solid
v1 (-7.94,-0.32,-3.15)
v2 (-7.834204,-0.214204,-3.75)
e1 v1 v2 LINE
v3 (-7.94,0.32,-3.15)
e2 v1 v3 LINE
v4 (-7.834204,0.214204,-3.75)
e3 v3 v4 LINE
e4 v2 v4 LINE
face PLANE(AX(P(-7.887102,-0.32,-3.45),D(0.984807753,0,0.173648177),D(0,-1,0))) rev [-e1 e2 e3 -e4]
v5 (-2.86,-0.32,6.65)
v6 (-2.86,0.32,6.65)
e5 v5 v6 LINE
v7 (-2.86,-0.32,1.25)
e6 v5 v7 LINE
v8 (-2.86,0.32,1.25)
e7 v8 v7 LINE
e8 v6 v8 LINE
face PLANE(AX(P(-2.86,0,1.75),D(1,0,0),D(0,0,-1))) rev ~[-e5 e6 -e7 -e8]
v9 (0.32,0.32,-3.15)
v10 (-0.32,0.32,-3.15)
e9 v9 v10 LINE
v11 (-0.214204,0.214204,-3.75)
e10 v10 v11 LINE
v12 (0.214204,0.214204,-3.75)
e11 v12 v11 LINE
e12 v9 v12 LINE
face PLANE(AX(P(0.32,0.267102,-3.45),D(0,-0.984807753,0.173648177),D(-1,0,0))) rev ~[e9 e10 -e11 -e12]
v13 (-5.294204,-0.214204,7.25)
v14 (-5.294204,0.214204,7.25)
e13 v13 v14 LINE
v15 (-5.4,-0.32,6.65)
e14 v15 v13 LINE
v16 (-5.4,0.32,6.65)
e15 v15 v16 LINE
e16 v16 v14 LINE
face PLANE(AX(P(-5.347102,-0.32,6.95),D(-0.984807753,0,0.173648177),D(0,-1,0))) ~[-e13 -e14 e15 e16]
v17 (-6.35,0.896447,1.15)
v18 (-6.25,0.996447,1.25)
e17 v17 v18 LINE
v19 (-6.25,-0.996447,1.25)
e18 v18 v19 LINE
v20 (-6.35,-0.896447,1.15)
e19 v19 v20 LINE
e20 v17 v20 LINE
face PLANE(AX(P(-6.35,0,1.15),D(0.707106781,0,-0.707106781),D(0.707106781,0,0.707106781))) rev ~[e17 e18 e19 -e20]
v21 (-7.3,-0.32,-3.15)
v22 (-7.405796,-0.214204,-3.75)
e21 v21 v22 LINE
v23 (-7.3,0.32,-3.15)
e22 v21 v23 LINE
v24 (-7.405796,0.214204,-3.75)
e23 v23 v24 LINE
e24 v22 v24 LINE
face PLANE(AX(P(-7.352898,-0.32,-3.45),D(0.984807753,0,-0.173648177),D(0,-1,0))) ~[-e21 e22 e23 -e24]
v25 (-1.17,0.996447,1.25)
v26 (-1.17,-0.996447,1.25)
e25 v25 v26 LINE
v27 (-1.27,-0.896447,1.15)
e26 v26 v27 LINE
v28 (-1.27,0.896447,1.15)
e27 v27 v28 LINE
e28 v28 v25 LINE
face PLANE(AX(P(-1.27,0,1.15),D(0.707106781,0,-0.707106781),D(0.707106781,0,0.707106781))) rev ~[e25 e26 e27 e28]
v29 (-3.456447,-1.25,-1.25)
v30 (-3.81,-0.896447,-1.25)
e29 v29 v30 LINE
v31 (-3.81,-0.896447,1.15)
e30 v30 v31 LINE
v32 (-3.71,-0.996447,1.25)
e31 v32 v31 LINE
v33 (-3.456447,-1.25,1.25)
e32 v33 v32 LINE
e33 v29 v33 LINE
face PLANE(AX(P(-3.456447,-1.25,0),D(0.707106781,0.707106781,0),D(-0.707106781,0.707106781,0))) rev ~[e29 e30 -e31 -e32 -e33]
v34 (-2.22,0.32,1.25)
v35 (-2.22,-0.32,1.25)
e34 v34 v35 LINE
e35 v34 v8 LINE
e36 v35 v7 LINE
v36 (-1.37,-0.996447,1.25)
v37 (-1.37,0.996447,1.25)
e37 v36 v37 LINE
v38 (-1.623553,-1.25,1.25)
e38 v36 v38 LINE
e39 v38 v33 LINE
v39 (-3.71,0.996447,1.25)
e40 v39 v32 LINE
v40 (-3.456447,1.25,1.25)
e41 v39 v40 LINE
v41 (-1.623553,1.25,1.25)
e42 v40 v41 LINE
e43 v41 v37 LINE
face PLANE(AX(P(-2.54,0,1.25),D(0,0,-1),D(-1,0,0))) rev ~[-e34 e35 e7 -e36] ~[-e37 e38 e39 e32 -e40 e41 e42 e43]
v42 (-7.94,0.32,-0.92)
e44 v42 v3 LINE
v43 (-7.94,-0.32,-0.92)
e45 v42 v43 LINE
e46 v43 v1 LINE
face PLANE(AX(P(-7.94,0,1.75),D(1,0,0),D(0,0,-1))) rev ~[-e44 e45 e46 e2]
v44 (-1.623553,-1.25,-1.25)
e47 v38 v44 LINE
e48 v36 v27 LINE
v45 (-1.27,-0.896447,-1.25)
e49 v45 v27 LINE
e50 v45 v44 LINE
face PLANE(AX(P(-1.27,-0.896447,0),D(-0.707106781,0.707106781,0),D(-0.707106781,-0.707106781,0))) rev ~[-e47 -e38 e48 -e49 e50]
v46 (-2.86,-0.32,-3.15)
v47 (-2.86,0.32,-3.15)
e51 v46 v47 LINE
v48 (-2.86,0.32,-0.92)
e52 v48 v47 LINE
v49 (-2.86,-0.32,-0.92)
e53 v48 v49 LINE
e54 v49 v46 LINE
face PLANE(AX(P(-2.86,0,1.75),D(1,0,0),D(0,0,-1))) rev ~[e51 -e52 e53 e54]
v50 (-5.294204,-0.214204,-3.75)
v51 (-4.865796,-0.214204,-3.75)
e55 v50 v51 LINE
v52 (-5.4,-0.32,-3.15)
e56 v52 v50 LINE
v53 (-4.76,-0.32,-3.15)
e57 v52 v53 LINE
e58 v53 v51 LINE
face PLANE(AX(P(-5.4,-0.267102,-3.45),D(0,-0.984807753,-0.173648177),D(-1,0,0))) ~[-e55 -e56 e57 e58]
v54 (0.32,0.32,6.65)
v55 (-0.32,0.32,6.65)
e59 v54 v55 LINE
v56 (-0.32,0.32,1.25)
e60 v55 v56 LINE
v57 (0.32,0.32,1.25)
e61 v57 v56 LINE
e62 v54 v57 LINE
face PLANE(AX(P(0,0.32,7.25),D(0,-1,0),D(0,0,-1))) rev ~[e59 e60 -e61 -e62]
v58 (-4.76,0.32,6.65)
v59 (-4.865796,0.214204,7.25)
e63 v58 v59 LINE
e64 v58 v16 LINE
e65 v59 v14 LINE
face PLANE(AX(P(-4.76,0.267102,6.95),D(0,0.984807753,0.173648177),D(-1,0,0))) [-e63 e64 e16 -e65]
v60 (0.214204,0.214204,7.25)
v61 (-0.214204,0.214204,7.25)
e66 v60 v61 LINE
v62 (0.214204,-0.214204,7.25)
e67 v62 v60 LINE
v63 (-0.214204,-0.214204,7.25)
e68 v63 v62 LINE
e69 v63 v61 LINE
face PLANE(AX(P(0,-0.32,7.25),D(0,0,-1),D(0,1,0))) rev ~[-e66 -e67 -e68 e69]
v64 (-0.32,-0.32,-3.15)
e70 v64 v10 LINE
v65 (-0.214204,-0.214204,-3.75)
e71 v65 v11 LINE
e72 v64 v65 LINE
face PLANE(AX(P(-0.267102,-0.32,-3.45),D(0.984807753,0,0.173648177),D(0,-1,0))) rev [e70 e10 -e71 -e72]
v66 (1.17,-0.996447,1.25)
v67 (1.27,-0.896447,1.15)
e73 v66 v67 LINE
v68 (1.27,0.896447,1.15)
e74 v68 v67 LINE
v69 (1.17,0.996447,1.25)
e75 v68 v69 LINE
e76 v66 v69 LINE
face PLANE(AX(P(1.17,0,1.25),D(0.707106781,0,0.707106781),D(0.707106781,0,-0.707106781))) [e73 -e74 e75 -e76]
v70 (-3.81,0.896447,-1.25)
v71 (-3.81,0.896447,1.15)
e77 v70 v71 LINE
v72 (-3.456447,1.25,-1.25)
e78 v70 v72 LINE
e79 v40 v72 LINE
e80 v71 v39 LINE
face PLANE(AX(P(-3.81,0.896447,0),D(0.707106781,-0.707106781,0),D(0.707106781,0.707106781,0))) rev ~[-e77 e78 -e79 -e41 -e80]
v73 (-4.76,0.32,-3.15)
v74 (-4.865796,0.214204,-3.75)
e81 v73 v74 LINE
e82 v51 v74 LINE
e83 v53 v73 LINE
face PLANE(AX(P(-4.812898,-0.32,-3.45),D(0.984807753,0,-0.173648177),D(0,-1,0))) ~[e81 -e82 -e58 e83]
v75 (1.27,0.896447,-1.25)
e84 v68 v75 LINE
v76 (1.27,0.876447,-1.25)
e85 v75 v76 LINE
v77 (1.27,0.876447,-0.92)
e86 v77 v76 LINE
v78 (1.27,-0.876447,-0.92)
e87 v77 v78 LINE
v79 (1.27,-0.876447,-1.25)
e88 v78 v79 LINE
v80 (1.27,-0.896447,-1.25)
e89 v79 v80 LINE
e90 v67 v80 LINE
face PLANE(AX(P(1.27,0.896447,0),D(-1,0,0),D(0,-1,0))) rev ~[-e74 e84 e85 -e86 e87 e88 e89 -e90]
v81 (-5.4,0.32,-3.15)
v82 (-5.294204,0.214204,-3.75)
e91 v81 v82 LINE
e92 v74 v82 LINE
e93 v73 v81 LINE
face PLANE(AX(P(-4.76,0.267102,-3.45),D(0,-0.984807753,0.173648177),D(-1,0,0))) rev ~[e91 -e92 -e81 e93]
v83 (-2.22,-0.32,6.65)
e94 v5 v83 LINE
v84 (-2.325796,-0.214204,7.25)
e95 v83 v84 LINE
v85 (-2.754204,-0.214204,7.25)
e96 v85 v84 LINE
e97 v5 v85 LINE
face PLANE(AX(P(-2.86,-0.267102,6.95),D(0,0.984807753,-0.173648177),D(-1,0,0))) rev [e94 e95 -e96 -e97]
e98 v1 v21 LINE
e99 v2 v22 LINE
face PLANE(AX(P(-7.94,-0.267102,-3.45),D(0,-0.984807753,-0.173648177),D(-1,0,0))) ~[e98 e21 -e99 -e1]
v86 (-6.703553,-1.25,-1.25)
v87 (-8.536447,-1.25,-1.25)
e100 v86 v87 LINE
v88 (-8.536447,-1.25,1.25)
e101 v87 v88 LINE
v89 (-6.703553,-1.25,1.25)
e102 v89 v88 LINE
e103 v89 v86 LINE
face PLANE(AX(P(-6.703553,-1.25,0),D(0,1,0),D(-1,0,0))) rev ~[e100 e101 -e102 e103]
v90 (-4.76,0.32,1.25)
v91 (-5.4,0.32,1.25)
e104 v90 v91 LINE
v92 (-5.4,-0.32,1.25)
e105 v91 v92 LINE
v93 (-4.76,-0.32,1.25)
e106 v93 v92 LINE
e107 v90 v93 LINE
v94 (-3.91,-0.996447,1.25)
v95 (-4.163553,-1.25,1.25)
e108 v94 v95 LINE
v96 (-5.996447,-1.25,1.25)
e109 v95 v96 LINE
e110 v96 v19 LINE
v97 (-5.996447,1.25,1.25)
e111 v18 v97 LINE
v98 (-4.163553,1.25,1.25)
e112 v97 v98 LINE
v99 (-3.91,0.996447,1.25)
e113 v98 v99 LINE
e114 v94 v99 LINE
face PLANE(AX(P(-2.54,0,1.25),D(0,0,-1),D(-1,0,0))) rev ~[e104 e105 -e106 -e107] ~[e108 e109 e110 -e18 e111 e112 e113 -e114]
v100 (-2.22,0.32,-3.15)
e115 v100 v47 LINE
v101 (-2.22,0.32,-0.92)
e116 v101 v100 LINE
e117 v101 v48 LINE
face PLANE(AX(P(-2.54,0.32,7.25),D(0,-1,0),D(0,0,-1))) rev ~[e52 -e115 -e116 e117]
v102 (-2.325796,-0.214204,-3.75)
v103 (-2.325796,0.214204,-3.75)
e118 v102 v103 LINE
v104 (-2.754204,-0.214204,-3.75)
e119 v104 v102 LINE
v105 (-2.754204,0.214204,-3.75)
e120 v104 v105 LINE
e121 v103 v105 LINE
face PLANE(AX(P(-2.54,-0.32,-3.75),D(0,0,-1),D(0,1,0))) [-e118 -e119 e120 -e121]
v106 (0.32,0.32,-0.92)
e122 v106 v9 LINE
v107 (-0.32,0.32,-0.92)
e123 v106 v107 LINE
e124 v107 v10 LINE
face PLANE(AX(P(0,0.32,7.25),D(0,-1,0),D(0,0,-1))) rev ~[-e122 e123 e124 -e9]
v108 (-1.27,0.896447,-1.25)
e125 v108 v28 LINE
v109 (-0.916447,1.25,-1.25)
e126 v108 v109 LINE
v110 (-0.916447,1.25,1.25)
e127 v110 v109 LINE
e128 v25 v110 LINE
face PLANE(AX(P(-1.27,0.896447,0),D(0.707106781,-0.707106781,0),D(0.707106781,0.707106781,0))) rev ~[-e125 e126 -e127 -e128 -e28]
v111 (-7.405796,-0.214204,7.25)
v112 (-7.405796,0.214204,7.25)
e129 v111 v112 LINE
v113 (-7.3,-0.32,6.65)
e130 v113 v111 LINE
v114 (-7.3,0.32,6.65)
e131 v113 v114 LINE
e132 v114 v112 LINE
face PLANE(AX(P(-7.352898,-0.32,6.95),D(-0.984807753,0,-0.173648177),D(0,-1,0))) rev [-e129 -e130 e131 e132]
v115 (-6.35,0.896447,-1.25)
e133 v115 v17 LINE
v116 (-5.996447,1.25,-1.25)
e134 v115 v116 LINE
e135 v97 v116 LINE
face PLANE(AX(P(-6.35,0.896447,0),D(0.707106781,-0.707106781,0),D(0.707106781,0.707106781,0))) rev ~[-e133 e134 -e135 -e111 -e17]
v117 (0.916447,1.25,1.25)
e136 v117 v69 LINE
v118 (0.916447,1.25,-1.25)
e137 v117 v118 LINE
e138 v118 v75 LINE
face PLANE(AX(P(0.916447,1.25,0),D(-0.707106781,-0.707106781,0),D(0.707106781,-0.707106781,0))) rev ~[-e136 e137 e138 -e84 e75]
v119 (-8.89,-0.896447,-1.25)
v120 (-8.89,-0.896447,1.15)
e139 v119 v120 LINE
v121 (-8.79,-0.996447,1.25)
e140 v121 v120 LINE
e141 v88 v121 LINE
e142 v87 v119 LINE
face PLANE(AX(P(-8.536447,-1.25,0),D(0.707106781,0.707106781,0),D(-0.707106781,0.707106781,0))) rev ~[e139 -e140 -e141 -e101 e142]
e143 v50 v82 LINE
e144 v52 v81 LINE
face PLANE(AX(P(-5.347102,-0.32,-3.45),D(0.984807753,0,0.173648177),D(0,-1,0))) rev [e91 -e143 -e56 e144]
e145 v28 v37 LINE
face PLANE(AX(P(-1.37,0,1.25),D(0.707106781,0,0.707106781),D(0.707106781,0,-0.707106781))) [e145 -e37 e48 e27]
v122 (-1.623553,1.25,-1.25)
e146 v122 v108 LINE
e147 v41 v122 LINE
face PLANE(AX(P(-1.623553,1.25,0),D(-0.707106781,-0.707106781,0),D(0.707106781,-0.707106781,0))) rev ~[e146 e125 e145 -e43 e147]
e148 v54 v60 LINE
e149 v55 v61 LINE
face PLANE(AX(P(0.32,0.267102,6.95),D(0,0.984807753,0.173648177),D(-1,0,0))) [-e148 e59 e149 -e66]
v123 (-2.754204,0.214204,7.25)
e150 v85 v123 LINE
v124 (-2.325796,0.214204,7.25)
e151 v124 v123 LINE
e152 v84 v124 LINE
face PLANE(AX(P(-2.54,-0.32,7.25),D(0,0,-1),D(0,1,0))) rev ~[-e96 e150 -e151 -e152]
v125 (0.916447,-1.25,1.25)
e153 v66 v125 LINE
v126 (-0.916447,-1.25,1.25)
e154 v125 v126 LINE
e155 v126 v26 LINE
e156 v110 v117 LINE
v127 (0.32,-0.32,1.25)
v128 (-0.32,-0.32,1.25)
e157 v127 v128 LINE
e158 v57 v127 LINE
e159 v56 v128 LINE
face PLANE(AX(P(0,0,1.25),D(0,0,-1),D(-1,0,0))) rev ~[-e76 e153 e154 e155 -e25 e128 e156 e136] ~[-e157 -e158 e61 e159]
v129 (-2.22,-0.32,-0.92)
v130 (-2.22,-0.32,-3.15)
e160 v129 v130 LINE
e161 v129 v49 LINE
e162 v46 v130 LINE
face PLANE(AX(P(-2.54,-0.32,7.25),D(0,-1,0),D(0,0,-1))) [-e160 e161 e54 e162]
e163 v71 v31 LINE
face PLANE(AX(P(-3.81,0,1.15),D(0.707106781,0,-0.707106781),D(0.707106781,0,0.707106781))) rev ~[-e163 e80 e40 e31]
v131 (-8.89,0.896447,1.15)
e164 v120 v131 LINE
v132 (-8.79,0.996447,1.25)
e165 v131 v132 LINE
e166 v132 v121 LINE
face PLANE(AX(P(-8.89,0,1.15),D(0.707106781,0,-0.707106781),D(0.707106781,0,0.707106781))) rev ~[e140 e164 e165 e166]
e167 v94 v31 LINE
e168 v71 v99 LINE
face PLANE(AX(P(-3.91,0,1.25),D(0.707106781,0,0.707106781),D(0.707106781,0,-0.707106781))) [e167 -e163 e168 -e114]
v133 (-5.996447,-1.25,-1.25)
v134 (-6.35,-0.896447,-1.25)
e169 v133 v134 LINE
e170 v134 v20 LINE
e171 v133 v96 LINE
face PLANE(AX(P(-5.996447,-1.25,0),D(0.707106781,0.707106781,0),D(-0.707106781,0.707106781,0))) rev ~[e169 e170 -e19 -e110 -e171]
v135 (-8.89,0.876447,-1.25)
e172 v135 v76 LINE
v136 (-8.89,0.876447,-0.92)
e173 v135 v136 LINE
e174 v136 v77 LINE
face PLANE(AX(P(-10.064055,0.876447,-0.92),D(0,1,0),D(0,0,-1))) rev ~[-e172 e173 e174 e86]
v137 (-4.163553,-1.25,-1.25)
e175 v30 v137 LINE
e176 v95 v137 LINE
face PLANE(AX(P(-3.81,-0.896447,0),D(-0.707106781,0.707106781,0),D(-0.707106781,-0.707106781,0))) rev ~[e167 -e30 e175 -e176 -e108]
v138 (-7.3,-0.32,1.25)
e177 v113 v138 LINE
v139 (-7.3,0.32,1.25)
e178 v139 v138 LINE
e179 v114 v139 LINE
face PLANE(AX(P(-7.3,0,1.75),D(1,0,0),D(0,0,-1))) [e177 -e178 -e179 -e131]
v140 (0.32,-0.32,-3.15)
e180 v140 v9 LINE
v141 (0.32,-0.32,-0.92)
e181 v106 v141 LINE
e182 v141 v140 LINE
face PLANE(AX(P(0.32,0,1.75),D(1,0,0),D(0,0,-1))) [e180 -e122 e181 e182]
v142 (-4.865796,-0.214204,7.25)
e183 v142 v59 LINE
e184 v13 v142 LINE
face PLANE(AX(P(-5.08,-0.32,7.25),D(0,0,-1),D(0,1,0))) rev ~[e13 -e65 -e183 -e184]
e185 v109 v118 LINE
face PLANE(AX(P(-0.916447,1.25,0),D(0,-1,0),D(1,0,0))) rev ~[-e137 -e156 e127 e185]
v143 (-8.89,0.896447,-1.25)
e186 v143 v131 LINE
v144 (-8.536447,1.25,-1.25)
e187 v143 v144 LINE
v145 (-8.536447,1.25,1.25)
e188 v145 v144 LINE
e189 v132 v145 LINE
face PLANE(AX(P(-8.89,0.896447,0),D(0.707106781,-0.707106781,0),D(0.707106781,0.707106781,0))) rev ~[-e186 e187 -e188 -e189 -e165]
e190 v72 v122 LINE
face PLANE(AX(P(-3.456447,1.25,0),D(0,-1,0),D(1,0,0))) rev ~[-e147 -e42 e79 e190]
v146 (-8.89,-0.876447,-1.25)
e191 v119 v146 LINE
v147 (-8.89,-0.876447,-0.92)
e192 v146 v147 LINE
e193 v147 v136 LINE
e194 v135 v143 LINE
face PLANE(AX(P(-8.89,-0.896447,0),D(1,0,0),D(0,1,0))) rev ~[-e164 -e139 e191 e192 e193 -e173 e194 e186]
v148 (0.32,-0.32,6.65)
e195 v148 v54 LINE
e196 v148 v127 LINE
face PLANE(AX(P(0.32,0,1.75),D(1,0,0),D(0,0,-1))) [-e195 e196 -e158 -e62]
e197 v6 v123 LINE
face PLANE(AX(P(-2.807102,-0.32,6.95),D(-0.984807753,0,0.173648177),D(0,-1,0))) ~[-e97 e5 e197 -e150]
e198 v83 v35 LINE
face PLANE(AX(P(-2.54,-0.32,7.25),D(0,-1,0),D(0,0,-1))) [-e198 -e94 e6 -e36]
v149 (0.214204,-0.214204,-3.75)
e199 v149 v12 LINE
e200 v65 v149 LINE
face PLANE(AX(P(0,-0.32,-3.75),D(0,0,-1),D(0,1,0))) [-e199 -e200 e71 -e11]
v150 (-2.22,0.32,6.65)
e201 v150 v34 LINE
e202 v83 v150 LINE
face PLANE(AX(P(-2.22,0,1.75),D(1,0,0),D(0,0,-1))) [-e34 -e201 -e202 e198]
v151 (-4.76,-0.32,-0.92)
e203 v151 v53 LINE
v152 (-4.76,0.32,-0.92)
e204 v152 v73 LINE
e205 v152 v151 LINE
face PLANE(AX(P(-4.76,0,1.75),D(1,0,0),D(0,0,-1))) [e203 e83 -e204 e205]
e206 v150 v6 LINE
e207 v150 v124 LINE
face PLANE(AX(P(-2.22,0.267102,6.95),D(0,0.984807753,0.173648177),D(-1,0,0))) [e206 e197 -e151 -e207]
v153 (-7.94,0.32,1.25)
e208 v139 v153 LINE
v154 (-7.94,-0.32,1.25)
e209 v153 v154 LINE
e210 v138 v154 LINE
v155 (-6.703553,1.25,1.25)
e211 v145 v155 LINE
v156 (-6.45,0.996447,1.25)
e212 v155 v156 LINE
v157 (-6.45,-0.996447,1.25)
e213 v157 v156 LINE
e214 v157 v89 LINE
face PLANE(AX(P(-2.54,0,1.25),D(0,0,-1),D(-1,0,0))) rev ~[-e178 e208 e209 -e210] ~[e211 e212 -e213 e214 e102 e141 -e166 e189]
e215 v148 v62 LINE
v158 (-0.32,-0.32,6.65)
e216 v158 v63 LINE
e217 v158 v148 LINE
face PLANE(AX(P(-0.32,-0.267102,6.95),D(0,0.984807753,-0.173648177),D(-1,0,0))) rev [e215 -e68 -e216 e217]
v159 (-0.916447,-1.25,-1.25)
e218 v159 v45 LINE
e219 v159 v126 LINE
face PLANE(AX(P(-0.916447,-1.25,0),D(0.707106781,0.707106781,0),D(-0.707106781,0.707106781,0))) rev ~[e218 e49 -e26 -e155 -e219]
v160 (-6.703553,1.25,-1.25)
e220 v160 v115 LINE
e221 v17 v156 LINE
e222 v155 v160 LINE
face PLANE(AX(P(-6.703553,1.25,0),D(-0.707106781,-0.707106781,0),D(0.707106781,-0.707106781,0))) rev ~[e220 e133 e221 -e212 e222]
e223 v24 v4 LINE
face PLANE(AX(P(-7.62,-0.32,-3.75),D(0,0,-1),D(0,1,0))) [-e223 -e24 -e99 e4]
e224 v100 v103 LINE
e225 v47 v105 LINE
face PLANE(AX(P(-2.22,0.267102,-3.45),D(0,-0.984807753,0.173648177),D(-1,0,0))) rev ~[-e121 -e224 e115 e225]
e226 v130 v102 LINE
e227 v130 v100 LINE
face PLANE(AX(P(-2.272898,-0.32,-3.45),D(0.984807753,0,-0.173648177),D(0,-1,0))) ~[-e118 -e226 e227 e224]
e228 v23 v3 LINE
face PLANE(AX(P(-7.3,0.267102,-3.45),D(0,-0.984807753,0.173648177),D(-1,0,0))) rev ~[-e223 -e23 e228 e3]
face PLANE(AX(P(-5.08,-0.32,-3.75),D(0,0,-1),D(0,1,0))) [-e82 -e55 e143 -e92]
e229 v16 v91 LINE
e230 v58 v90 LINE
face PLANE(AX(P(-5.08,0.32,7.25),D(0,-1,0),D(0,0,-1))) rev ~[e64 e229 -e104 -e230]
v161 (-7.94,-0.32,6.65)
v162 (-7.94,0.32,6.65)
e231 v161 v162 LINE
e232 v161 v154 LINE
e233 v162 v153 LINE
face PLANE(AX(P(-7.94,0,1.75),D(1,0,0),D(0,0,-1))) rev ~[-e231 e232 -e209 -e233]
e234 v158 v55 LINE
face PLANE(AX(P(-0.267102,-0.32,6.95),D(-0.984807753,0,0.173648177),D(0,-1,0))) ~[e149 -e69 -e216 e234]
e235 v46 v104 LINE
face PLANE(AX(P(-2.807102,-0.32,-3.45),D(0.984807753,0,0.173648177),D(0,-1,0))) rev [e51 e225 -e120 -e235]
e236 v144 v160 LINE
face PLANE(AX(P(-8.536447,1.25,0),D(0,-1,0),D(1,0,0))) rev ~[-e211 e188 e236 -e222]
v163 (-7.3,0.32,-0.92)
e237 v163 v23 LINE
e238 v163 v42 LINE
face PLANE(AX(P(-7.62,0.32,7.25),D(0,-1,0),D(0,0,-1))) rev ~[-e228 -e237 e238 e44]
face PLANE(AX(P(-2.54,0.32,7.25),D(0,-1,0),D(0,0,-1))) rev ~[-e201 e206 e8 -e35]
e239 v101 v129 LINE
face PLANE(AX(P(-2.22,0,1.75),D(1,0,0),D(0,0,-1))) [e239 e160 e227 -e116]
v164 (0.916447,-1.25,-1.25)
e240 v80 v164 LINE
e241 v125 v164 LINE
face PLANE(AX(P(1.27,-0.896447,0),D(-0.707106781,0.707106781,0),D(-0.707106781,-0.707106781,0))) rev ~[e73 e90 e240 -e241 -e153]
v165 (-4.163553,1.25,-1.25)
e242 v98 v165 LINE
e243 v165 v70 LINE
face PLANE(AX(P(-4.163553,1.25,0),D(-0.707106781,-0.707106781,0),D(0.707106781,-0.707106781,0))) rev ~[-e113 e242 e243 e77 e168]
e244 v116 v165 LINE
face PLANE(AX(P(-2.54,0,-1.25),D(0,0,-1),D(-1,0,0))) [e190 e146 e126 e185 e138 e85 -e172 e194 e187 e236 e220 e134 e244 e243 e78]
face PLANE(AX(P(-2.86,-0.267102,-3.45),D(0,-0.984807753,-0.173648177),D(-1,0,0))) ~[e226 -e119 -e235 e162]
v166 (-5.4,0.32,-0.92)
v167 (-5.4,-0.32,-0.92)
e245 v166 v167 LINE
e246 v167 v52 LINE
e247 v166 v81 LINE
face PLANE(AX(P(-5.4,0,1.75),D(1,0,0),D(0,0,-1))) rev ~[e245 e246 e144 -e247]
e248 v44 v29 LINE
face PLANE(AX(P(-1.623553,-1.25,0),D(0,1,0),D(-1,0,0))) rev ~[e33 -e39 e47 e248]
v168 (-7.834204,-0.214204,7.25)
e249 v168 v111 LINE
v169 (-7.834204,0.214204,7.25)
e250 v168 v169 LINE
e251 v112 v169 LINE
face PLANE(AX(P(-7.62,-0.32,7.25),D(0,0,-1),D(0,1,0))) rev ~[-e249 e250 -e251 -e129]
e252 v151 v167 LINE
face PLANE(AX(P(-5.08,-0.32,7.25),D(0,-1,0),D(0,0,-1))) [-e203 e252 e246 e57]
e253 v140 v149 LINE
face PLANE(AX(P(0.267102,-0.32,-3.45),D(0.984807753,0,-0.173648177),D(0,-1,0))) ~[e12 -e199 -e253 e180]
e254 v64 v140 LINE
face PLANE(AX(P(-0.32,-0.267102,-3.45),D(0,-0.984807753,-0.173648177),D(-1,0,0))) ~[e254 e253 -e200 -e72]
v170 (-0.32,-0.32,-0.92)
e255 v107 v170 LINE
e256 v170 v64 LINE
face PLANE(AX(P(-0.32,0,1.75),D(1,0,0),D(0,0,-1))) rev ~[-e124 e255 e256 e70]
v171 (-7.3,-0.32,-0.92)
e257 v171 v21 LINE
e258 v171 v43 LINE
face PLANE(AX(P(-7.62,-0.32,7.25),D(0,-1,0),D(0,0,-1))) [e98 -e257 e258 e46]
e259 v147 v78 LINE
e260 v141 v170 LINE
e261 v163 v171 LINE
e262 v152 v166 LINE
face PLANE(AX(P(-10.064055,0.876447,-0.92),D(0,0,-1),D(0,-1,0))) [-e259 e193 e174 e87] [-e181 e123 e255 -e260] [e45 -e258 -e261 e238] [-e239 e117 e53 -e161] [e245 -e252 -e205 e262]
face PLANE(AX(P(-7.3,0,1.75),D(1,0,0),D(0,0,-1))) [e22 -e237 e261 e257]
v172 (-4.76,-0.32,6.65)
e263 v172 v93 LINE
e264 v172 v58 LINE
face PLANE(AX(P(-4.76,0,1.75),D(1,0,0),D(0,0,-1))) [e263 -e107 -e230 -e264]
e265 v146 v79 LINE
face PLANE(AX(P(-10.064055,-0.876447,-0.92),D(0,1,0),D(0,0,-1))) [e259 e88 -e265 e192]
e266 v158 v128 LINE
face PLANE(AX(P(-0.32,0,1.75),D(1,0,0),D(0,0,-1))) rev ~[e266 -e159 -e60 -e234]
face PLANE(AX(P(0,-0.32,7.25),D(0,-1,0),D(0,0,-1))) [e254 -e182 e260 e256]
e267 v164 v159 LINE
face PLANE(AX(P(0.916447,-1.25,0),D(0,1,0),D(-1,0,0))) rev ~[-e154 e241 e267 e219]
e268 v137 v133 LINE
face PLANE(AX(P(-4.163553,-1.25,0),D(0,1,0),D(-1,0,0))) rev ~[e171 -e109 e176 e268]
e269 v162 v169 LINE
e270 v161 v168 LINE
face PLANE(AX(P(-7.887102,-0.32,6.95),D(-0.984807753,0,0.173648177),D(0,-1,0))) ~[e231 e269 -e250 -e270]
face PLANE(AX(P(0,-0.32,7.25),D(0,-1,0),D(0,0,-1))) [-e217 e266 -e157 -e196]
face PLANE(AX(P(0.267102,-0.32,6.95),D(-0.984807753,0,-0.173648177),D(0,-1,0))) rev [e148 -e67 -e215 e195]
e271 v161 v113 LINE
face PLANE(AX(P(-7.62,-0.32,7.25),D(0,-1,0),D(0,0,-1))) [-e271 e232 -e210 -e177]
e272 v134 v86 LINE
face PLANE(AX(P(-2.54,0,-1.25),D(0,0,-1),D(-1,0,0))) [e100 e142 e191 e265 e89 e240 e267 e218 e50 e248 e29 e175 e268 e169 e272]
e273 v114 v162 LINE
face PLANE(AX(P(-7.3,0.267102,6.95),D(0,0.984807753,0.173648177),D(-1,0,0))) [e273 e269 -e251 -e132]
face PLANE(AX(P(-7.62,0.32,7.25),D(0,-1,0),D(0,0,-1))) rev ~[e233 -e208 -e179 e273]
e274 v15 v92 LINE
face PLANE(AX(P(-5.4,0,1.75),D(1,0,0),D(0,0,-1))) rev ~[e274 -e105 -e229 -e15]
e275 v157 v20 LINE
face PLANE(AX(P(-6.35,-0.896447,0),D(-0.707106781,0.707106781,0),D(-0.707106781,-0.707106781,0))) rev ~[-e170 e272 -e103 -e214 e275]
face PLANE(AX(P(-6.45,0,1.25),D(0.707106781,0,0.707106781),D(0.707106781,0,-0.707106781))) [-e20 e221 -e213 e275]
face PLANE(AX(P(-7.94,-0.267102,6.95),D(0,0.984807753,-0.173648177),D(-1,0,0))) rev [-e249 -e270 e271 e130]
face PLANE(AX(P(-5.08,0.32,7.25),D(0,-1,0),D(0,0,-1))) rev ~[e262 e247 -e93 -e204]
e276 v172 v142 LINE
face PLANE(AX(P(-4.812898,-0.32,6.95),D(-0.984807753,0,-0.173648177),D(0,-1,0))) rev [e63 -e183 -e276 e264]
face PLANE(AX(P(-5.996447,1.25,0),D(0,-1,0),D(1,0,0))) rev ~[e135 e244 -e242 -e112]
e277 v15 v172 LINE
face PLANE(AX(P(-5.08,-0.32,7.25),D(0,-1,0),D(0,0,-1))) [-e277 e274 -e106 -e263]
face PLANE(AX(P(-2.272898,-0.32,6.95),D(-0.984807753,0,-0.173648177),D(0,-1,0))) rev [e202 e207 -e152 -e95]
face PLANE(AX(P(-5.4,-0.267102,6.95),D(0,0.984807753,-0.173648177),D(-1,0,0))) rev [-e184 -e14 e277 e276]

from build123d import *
from OCP.BRepFilletAPI import BRepFilletAPI_MakeChamfer

# Parameters (mm, degrees)
EXTRUDE1_DEPTH          = 1.25
CUT_EXTRUDE3_DEPTH      = 3.176671771
LPATTERN4_COUNT         = 4
LPATTERN4_PITCH         = 2.54
CUT_EXTRUDE1_DEPTH      = 10.064055384
CUT_EXTRUDE1_DEPTH_BACK = 10.064055384
SKETCH2_W               = 1.752893218
SKETCH2_H               = 0.33
SKETCH3_W               = 11
SKETCH3_H               = 0.64
EXTRUDE_THIN1_DEPTH     = 0.32
LPATTERN5_COUNT         = 5
LPATTERN5_PITCH         = 2.54
CHAMFER2_SIZE           = 0.6
CHAMFER2_SIZE2          = 0.105796188


with BuildPart() as part:
    # Sketch1 → Extrude1 (new, symmetric)
    with BuildSketch(Plane.XY):
        Polygon((-1.27, 0.896446609), (-0.916446609, 1.25), (0.916446609, 1.25), (1.27, 0.896446609), (1.27, -0.896446609), (0.916446609, -1.25), (-0.916446609, -1.25), (-1.27, -0.896446609), align=None)
    extrude1 = extrude(amount=EXTRUDE1_DEPTH, both=True)

    # Sketch4 → Cut-Extrude3 (cut, symmetric)
    with BuildSketch(Plane(origin=(0, 0, 0), x_dir=(1, 0, 0), z_dir=(0, 1, 0))):
        Polygon((-1.27, -1.15), (-1.17, -1.25), (-1.27, -1.25), align=None)
        Polygon((1.17, -1.25), (1.27, -1.15), (1.27, -1.25), align=None)
    cut_extrude3 = extrude(amount=CUT_EXTRUDE3_DEPTH, both=True, mode=Mode.SUBTRACT)

    # LPattern4: Extrude1, Cut-Extrude3 ×4
    with Locations(*[(-i * LPATTERN4_PITCH, 0, 0) for i in range(1, LPATTERN4_COUNT)]):
        add(extrude1)
        add(cut_extrude3, mode=Mode.SUBTRACT)

    # Sketch2 → Cut-Extrude1 (cut, two sides: drawn at the far end of the back side and taken through both)
    with BuildSketch(Plane(origin=(0, 0, 0), x_dir=(0, -1, 0), z_dir=(1, 0, 0)).offset(-CUT_EXTRUDE1_DEPTH_BACK)):
        with Locations((0, 1.085)):
            Rectangle(SKETCH2_W, SKETCH2_H)
    extrude(amount=CUT_EXTRUDE1_DEPTH + CUT_EXTRUDE1_DEPTH_BACK, mode=Mode.SUBTRACT)

    # Sketch3 → Extrude-Thin1 (add, symmetric)
    with BuildSketch(Plane(origin=(0, 0, 0), x_dir=(0, 0, -1), z_dir=(1, 0, 0))):
        with Locations((-1.75, 0)):
            Rectangle(SKETCH3_W, SKETCH3_H)
    extrude_thin1 = extrude(amount=EXTRUDE_THIN1_DEPTH, both=True)

    # LPattern5: Extrude-Thin1 ×5, 1 skipped
    with Locations(*[(-i * LPATTERN5_PITCH, 0, 0) for i in range(1, LPATTERN5_COUNT) if i not in (4,)]):
        add(extrude_thin1)

    # Chamfer2: one chamfer whose edges measure the first distance from different faces: ONE call of the kernel's chamfer builder (chamfer() names one face for all edges)
    chamfer2_edges_1 = [part.edges().sort_by_distance(p)[0] for p in [
        (0, -0.32, 7.25),
    ]]
    chamfer2_side_1 = [part.faces().sort_by_distance(p)[0] for p in [
        (0, -0.32, 4.25),
    ]]
    chamfer2_edges_2 = [part.edges().sort_by_distance(p)[0] for p in [
        (0, 0.32, -3.75),
    ]]
    chamfer2_side_2 = [part.faces().sort_by_distance(p)[0] for p in [
        (0, 0.32, -2.335),
    ]]
    chamfer2_edges_3 = [part.edges().sort_by_distance(p)[0] for p in [
        (-0.32, 0, 7.25),
    ]]
    chamfer2_side_3 = [part.faces().sort_by_distance(p)[0] for p in [
        (-0.32, 0, 4.25),
    ]]
    chamfer2_edges_4 = [part.edges().sort_by_distance(p)[0] for p in [
        (-0.32, 0, -3.75),
    ]]
    chamfer2_side_4 = [part.faces().sort_by_distance(p)[0] for p in [
        (-0.32, 0, -2.335),
    ]]
    chamfer2_edges_5 = [part.edges().sort_by_distance(p)[0] for p in [
        (0, -0.32, -3.75),
    ]]
    chamfer2_side_5 = [part.faces().sort_by_distance(p)[0] for p in [
        (0, -0.32, -2.335),
    ]]
    chamfer2_edges_6 = [part.edges().sort_by_distance(p)[0] for p in [
        (0.32, 0, -3.75),
    ]]
    chamfer2_side_6 = [part.faces().sort_by_distance(p)[0] for p in [
        (0.32, 0, -2.335),
    ]]
    chamfer2_edges_7 = [part.edges().sort_by_distance(p)[0] for p in [
        (0, 0.32, 7.25),
    ]]
    chamfer2_side_7 = [part.faces().sort_by_distance(p)[0] for p in [
        (0, 0.32, 4.25),
    ]]
    chamfer2_edges_8 = [part.edges().sort_by_distance(p)[0] for p in [
        (0.32, 0, 7.25),
    ]]
    chamfer2_side_8 = [part.faces().sort_by_distance(p)[0] for p in [
        (0.32, 0, 4.25),
    ]]
    chamfer2_edges_9 = [part.edges().sort_by_distance(p)[0] for p in [
        (-2.54, -0.32, 7.25),
    ]]
    chamfer2_side_9 = [part.faces().sort_by_distance(p)[0] for p in [
        (-2.54, -0.32, 4.25),
    ]]
    chamfer2_edges_10 = [part.edges().sort_by_distance(p)[0] for p in [
        (-2.54, 0.32, -3.75),
    ]]
    chamfer2_side_10 = [part.faces().sort_by_distance(p)[0] for p in [
        (-2.54, 0.32, -2.335),
    ]]
    chamfer2_edges_11 = [part.edges().sort_by_distance(p)[0] for p in [
        (-2.86, 0, -3.75),
    ]]
    chamfer2_side_11 = [part.faces().sort_by_distance(p)[0] for p in [
        (-2.86, 0, -2.335),
    ]]
    chamfer2_edges_12 = [part.edges().sort_by_distance(p)[0] for p in [
        (-2.86, 0, 7.25),
    ]]
    chamfer2_side_12 = [part.faces().sort_by_distance(p)[0] for p in [
        (-2.86, 0, 4.25),
    ]]
    chamfer2_edges_13 = [part.edges().sort_by_distance(p)[0] for p in [
        (-2.54, -0.32, -3.75),
    ]]
    chamfer2_side_13 = [part.faces().sort_by_distance(p)[0] for p in [
        (-2.54, -0.32, -2.335),
    ]]
    chamfer2_edges_14 = [part.edges().sort_by_distance(p)[0] for p in [
        (-2.22, 0, -3.75),
    ]]
    chamfer2_side_14 = [part.faces().sort_by_distance(p)[0] for p in [
        (-2.22, 0, -2.335),
    ]]
    chamfer2_edges_15 = [part.edges().sort_by_distance(p)[0] for p in [
        (-2.54, 0.32, 7.25),
    ]]
    chamfer2_side_15 = [part.faces().sort_by_distance(p)[0] for p in [
        (-2.54, 0.32, 4.25),
    ]]
    chamfer2_edges_16 = [part.edges().sort_by_distance(p)[0] for p in [
        (-2.22, 0, 7.25),
    ]]
    chamfer2_side_16 = [part.faces().sort_by_distance(p)[0] for p in [
        (-2.22, 0, 4.25),
    ]]
    chamfer2_edges_17 = [part.edges().sort_by_distance(p)[0] for p in [
        (-5.08, -0.32, 7.25),
    ]]
    chamfer2_side_17 = [part.faces().sort_by_distance(p)[0] for p in [
        (-5.08, -0.32, 4.25),
    ]]
    chamfer2_edges_18 = [part.edges().sort_by_distance(p)[0] for p in [
        (-5.08, 0.32, -3.75),
    ]]
    chamfer2_side_18 = [part.faces().sort_by_distance(p)[0] for p in [
        (-5.08, 0.32, -2.335),
    ]]
    chamfer2_edges_19 = [part.edges().sort_by_distance(p)[0] for p in [
        (-5.4, 0, -3.75),
    ]]
    chamfer2_side_19 = [part.faces().sort_by_distance(p)[0] for p in [
        (-5.4, 0, -2.335),
    ]]
    chamfer2_edges_20 = [part.edges().sort_by_distance(p)[0] for p in [
        (-5.4, 0, 7.25),
    ]]
    chamfer2_side_20 = [part.faces().sort_by_distance(p)[0] for p in [
        (-5.4, 0, 4.25),
    ]]
    chamfer2_edges_21 = [part.edges().sort_by_distance(p)[0] for p in [
        (-5.08, -0.32, -3.75),
    ]]
    chamfer2_side_21 = [part.faces().sort_by_distance(p)[0] for p in [
        (-5.08, -0.32, -2.335),
    ]]
    chamfer2_edges_22 = [part.edges().sort_by_distance(p)[0] for p in [
        (-4.76, 0, -3.75),
    ]]
    chamfer2_side_22 = [part.faces().sort_by_distance(p)[0] for p in [
        (-4.76, 0, -2.335),
    ]]
    chamfer2_edges_23 = [part.edges().sort_by_distance(p)[0] for p in [
        (-5.08, 0.32, 7.25),
    ]]
    chamfer2_side_23 = [part.faces().sort_by_distance(p)[0] for p in [
        (-5.08, 0.32, 4.25),
    ]]
    chamfer2_edges_24 = [part.edges().sort_by_distance(p)[0] for p in [
        (-4.76, 0, 7.25),
    ]]
    chamfer2_side_24 = [part.faces().sort_by_distance(p)[0] for p in [
        (-4.76, 0, 4.25),
    ]]
    chamfer2_edges_25 = [part.edges().sort_by_distance(p)[0] for p in [
        (-7.62, -0.32, 7.25),
    ]]
    chamfer2_side_25 = [part.faces().sort_by_distance(p)[0] for p in [
        (-7.62, -0.32, 4.25),
    ]]
    chamfer2_edges_26 = [part.edges().sort_by_distance(p)[0] for p in [
        (-7.62, 0.32, -3.75),
    ]]
    chamfer2_side_26 = [part.faces().sort_by_distance(p)[0] for p in [
        (-7.62, 0.32, -2.335),
    ]]
    chamfer2_edges_27 = [part.edges().sort_by_distance(p)[0] for p in [
        (-7.94, 0, -3.75),
    ]]
    chamfer2_side_27 = [part.faces().sort_by_distance(p)[0] for p in [
        (-7.94, 0, -2.335),
    ]]
    chamfer2_edges_28 = [part.edges().sort_by_distance(p)[0] for p in [
        (-7.94, 0, 7.25),
    ]]
    chamfer2_side_28 = [part.faces().sort_by_distance(p)[0] for p in [
        (-7.94, 0, 4.25),
    ]]
    chamfer2_edges_29 = [part.edges().sort_by_distance(p)[0] for p in [
        (-7.62, -0.32, -3.75),
    ]]
    chamfer2_side_29 = [part.faces().sort_by_distance(p)[0] for p in [
        (-7.62, -0.32, -2.335),
    ]]
    chamfer2_edges_30 = [part.edges().sort_by_distance(p)[0] for p in [
        (-7.3, 0, -3.75),
    ]]
    chamfer2_side_30 = [part.faces().sort_by_distance(p)[0] for p in [
        (-7.3, 0, -2.335),
    ]]
    chamfer2_edges_31 = [part.edges().sort_by_distance(p)[0] for p in [
        (-7.62, 0.32, 7.25),
    ]]
    chamfer2_side_31 = [part.faces().sort_by_distance(p)[0] for p in [
        (-7.62, 0.32, 4.25),
    ]]
    chamfer2_edges_32 = [part.edges().sort_by_distance(p)[0] for p in [
        (-7.3, 0, 7.25),
    ]]
    chamfer2_side_32 = [part.faces().sort_by_distance(p)[0] for p in [
        (-7.3, 0, 4.25),
    ]]
    chamfer2 = BRepFilletAPI_MakeChamfer(part.part.solid().wrapped)
    for e in chamfer2_edges_1:
        chamfer2.Add(CHAMFER2_SIZE, CHAMFER2_SIZE2, e.wrapped, chamfer2_side_1[0].wrapped)  # the first distance lies on this face
    for e in chamfer2_edges_2:
        chamfer2.Add(CHAMFER2_SIZE, CHAMFER2_SIZE2, e.wrapped, chamfer2_side_2[0].wrapped)  # the first distance lies on this face
    for e in chamfer2_edges_3:
        chamfer2.Add(CHAMFER2_SIZE, CHAMFER2_SIZE2, e.wrapped, chamfer2_side_3[0].wrapped)  # the first distance lies on this face
    for e in chamfer2_edges_4:
        chamfer2.Add(CHAMFER2_SIZE, CHAMFER2_SIZE2, e.wrapped, chamfer2_side_4[0].wrapped)  # the first distance lies on this face
    for e in chamfer2_edges_5:
        chamfer2.Add(CHAMFER2_SIZE, CHAMFER2_SIZE2, e.wrapped, chamfer2_side_5[0].wrapped)  # the first distance lies on this face
    for e in chamfer2_edges_6:
        chamfer2.Add(CHAMFER2_SIZE, CHAMFER2_SIZE2, e.wrapped, chamfer2_side_6[0].wrapped)  # the first distance lies on this face
    for e in chamfer2_edges_7:
        chamfer2.Add(CHAMFER2_SIZE, CHAMFER2_SIZE2, e.wrapped, chamfer2_side_7[0].wrapped)  # the first distance lies on this face
    for e in chamfer2_edges_8:
        chamfer2.Add(CHAMFER2_SIZE, CHAMFER2_SIZE2, e.wrapped, chamfer2_side_8[0].wrapped)  # the first distance lies on this face
    for e in chamfer2_edges_9:
        chamfer2.Add(CHAMFER2_SIZE, CHAMFER2_SIZE2, e.wrapped, chamfer2_side_9[0].wrapped)  # the first distance lies on this face
    for e in chamfer2_edges_10:
        chamfer2.Add(CHAMFER2_SIZE, CHAMFER2_SIZE2, e.wrapped, chamfer2_side_10[0].wrapped)  # the first distance lies on this face
    for e in chamfer2_edges_11:
        chamfer2.Add(CHAMFER2_SIZE, CHAMFER2_SIZE2, e.wrapped, chamfer2_side_11[0].wrapped)  # the first distance lies on this face
    for e in chamfer2_edges_12:
        chamfer2.Add(CHAMFER2_SIZE, CHAMFER2_SIZE2, e.wrapped, chamfer2_side_12[0].wrapped)  # the first distance lies on this face
    for e in chamfer2_edges_13:
        chamfer2.Add(CHAMFER2_SIZE, CHAMFER2_SIZE2, e.wrapped, chamfer2_side_13[0].wrapped)  # the first distance lies on this face
    for e in chamfer2_edges_14:
        chamfer2.Add(CHAMFER2_SIZE, CHAMFER2_SIZE2, e.wrapped, chamfer2_side_14[0].wrapped)  # the first distance lies on this face
    for e in chamfer2_edges_15:
        chamfer2.Add(CHAMFER2_SIZE, CHAMFER2_SIZE2, e.wrapped, chamfer2_side_15[0].wrapped)  # the first distance lies on this face
    for e in chamfer2_edges_16:
        chamfer2.Add(CHAMFER2_SIZE, CHAMFER2_SIZE2, e.wrapped, chamfer2_side_16[0].wrapped)  # the first distance lies on this face
    for e in chamfer2_edges_17:
        chamfer2.Add(CHAMFER2_SIZE, CHAMFER2_SIZE2, e.wrapped, chamfer2_side_17[0].wrapped)  # the first distance lies on this face
    for e in chamfer2_edges_18:
        chamfer2.Add(CHAMFER2_SIZE, CHAMFER2_SIZE2, e.wrapped, chamfer2_side_18[0].wrapped)  # the first distance lies on this face
    for e in chamfer2_edges_19:
        chamfer2.Add(CHAMFER2_SIZE, CHAMFER2_SIZE2, e.wrapped, chamfer2_side_19[0].wrapped)  # the first distance lies on this face
    for e in chamfer2_edges_20:
        chamfer2.Add(CHAMFER2_SIZE, CHAMFER2_SIZE2, e.wrapped, chamfer2_side_20[0].wrapped)  # the first distance lies on this face
    for e in chamfer2_edges_21:
        chamfer2.Add(CHAMFER2_SIZE, CHAMFER2_SIZE2, e.wrapped, chamfer2_side_21[0].wrapped)  # the first distance lies on this face
    for e in chamfer2_edges_22:
        chamfer2.Add(CHAMFER2_SIZE, CHAMFER2_SIZE2, e.wrapped, chamfer2_side_22[0].wrapped)  # the first distance lies on this face
    for e in chamfer2_edges_23:
        chamfer2.Add(CHAMFER2_SIZE, CHAMFER2_SIZE2, e.wrapped, chamfer2_side_23[0].wrapped)  # the first distance lies on this face
    for e in chamfer2_edges_24:
        chamfer2.Add(CHAMFER2_SIZE, CHAMFER2_SIZE2, e.wrapped, chamfer2_side_24[0].wrapped)  # the first distance lies on this face
    for e in chamfer2_edges_25:
        chamfer2.Add(CHAMFER2_SIZE, CHAMFER2_SIZE2, e.wrapped, chamfer2_side_25[0].wrapped)  # the first distance lies on this face
    for e in chamfer2_edges_26:
        chamfer2.Add(CHAMFER2_SIZE, CHAMFER2_SIZE2, e.wrapped, chamfer2_side_26[0].wrapped)  # the first distance lies on this face
    for e in chamfer2_edges_27:
        chamfer2.Add(CHAMFER2_SIZE, CHAMFER2_SIZE2, e.wrapped, chamfer2_side_27[0].wrapped)  # the first distance lies on this face
    for e in chamfer2_edges_28:
        chamfer2.Add(CHAMFER2_SIZE, CHAMFER2_SIZE2, e.wrapped, chamfer2_side_28[0].wrapped)  # the first distance lies on this face
    for e in chamfer2_edges_29:
        chamfer2.Add(CHAMFER2_SIZE, CHAMFER2_SIZE2, e.wrapped, chamfer2_side_29[0].wrapped)  # the first distance lies on this face
    for e in chamfer2_edges_30:
        chamfer2.Add(CHAMFER2_SIZE, CHAMFER2_SIZE2, e.wrapped, chamfer2_side_30[0].wrapped)  # the first distance lies on this face
    for e in chamfer2_edges_31:
        chamfer2.Add(CHAMFER2_SIZE, CHAMFER2_SIZE2, e.wrapped, chamfer2_side_31[0].wrapped)  # the first distance lies on this face
    for e in chamfer2_edges_32:
        chamfer2.Add(CHAMFER2_SIZE, CHAMFER2_SIZE2, e.wrapped, chamfer2_side_32[0].wrapped)  # the first distance lies on this face
    add(Compound.cast(chamfer2.Shape()), mode=Mode.REPLACE)


solid = part.part
